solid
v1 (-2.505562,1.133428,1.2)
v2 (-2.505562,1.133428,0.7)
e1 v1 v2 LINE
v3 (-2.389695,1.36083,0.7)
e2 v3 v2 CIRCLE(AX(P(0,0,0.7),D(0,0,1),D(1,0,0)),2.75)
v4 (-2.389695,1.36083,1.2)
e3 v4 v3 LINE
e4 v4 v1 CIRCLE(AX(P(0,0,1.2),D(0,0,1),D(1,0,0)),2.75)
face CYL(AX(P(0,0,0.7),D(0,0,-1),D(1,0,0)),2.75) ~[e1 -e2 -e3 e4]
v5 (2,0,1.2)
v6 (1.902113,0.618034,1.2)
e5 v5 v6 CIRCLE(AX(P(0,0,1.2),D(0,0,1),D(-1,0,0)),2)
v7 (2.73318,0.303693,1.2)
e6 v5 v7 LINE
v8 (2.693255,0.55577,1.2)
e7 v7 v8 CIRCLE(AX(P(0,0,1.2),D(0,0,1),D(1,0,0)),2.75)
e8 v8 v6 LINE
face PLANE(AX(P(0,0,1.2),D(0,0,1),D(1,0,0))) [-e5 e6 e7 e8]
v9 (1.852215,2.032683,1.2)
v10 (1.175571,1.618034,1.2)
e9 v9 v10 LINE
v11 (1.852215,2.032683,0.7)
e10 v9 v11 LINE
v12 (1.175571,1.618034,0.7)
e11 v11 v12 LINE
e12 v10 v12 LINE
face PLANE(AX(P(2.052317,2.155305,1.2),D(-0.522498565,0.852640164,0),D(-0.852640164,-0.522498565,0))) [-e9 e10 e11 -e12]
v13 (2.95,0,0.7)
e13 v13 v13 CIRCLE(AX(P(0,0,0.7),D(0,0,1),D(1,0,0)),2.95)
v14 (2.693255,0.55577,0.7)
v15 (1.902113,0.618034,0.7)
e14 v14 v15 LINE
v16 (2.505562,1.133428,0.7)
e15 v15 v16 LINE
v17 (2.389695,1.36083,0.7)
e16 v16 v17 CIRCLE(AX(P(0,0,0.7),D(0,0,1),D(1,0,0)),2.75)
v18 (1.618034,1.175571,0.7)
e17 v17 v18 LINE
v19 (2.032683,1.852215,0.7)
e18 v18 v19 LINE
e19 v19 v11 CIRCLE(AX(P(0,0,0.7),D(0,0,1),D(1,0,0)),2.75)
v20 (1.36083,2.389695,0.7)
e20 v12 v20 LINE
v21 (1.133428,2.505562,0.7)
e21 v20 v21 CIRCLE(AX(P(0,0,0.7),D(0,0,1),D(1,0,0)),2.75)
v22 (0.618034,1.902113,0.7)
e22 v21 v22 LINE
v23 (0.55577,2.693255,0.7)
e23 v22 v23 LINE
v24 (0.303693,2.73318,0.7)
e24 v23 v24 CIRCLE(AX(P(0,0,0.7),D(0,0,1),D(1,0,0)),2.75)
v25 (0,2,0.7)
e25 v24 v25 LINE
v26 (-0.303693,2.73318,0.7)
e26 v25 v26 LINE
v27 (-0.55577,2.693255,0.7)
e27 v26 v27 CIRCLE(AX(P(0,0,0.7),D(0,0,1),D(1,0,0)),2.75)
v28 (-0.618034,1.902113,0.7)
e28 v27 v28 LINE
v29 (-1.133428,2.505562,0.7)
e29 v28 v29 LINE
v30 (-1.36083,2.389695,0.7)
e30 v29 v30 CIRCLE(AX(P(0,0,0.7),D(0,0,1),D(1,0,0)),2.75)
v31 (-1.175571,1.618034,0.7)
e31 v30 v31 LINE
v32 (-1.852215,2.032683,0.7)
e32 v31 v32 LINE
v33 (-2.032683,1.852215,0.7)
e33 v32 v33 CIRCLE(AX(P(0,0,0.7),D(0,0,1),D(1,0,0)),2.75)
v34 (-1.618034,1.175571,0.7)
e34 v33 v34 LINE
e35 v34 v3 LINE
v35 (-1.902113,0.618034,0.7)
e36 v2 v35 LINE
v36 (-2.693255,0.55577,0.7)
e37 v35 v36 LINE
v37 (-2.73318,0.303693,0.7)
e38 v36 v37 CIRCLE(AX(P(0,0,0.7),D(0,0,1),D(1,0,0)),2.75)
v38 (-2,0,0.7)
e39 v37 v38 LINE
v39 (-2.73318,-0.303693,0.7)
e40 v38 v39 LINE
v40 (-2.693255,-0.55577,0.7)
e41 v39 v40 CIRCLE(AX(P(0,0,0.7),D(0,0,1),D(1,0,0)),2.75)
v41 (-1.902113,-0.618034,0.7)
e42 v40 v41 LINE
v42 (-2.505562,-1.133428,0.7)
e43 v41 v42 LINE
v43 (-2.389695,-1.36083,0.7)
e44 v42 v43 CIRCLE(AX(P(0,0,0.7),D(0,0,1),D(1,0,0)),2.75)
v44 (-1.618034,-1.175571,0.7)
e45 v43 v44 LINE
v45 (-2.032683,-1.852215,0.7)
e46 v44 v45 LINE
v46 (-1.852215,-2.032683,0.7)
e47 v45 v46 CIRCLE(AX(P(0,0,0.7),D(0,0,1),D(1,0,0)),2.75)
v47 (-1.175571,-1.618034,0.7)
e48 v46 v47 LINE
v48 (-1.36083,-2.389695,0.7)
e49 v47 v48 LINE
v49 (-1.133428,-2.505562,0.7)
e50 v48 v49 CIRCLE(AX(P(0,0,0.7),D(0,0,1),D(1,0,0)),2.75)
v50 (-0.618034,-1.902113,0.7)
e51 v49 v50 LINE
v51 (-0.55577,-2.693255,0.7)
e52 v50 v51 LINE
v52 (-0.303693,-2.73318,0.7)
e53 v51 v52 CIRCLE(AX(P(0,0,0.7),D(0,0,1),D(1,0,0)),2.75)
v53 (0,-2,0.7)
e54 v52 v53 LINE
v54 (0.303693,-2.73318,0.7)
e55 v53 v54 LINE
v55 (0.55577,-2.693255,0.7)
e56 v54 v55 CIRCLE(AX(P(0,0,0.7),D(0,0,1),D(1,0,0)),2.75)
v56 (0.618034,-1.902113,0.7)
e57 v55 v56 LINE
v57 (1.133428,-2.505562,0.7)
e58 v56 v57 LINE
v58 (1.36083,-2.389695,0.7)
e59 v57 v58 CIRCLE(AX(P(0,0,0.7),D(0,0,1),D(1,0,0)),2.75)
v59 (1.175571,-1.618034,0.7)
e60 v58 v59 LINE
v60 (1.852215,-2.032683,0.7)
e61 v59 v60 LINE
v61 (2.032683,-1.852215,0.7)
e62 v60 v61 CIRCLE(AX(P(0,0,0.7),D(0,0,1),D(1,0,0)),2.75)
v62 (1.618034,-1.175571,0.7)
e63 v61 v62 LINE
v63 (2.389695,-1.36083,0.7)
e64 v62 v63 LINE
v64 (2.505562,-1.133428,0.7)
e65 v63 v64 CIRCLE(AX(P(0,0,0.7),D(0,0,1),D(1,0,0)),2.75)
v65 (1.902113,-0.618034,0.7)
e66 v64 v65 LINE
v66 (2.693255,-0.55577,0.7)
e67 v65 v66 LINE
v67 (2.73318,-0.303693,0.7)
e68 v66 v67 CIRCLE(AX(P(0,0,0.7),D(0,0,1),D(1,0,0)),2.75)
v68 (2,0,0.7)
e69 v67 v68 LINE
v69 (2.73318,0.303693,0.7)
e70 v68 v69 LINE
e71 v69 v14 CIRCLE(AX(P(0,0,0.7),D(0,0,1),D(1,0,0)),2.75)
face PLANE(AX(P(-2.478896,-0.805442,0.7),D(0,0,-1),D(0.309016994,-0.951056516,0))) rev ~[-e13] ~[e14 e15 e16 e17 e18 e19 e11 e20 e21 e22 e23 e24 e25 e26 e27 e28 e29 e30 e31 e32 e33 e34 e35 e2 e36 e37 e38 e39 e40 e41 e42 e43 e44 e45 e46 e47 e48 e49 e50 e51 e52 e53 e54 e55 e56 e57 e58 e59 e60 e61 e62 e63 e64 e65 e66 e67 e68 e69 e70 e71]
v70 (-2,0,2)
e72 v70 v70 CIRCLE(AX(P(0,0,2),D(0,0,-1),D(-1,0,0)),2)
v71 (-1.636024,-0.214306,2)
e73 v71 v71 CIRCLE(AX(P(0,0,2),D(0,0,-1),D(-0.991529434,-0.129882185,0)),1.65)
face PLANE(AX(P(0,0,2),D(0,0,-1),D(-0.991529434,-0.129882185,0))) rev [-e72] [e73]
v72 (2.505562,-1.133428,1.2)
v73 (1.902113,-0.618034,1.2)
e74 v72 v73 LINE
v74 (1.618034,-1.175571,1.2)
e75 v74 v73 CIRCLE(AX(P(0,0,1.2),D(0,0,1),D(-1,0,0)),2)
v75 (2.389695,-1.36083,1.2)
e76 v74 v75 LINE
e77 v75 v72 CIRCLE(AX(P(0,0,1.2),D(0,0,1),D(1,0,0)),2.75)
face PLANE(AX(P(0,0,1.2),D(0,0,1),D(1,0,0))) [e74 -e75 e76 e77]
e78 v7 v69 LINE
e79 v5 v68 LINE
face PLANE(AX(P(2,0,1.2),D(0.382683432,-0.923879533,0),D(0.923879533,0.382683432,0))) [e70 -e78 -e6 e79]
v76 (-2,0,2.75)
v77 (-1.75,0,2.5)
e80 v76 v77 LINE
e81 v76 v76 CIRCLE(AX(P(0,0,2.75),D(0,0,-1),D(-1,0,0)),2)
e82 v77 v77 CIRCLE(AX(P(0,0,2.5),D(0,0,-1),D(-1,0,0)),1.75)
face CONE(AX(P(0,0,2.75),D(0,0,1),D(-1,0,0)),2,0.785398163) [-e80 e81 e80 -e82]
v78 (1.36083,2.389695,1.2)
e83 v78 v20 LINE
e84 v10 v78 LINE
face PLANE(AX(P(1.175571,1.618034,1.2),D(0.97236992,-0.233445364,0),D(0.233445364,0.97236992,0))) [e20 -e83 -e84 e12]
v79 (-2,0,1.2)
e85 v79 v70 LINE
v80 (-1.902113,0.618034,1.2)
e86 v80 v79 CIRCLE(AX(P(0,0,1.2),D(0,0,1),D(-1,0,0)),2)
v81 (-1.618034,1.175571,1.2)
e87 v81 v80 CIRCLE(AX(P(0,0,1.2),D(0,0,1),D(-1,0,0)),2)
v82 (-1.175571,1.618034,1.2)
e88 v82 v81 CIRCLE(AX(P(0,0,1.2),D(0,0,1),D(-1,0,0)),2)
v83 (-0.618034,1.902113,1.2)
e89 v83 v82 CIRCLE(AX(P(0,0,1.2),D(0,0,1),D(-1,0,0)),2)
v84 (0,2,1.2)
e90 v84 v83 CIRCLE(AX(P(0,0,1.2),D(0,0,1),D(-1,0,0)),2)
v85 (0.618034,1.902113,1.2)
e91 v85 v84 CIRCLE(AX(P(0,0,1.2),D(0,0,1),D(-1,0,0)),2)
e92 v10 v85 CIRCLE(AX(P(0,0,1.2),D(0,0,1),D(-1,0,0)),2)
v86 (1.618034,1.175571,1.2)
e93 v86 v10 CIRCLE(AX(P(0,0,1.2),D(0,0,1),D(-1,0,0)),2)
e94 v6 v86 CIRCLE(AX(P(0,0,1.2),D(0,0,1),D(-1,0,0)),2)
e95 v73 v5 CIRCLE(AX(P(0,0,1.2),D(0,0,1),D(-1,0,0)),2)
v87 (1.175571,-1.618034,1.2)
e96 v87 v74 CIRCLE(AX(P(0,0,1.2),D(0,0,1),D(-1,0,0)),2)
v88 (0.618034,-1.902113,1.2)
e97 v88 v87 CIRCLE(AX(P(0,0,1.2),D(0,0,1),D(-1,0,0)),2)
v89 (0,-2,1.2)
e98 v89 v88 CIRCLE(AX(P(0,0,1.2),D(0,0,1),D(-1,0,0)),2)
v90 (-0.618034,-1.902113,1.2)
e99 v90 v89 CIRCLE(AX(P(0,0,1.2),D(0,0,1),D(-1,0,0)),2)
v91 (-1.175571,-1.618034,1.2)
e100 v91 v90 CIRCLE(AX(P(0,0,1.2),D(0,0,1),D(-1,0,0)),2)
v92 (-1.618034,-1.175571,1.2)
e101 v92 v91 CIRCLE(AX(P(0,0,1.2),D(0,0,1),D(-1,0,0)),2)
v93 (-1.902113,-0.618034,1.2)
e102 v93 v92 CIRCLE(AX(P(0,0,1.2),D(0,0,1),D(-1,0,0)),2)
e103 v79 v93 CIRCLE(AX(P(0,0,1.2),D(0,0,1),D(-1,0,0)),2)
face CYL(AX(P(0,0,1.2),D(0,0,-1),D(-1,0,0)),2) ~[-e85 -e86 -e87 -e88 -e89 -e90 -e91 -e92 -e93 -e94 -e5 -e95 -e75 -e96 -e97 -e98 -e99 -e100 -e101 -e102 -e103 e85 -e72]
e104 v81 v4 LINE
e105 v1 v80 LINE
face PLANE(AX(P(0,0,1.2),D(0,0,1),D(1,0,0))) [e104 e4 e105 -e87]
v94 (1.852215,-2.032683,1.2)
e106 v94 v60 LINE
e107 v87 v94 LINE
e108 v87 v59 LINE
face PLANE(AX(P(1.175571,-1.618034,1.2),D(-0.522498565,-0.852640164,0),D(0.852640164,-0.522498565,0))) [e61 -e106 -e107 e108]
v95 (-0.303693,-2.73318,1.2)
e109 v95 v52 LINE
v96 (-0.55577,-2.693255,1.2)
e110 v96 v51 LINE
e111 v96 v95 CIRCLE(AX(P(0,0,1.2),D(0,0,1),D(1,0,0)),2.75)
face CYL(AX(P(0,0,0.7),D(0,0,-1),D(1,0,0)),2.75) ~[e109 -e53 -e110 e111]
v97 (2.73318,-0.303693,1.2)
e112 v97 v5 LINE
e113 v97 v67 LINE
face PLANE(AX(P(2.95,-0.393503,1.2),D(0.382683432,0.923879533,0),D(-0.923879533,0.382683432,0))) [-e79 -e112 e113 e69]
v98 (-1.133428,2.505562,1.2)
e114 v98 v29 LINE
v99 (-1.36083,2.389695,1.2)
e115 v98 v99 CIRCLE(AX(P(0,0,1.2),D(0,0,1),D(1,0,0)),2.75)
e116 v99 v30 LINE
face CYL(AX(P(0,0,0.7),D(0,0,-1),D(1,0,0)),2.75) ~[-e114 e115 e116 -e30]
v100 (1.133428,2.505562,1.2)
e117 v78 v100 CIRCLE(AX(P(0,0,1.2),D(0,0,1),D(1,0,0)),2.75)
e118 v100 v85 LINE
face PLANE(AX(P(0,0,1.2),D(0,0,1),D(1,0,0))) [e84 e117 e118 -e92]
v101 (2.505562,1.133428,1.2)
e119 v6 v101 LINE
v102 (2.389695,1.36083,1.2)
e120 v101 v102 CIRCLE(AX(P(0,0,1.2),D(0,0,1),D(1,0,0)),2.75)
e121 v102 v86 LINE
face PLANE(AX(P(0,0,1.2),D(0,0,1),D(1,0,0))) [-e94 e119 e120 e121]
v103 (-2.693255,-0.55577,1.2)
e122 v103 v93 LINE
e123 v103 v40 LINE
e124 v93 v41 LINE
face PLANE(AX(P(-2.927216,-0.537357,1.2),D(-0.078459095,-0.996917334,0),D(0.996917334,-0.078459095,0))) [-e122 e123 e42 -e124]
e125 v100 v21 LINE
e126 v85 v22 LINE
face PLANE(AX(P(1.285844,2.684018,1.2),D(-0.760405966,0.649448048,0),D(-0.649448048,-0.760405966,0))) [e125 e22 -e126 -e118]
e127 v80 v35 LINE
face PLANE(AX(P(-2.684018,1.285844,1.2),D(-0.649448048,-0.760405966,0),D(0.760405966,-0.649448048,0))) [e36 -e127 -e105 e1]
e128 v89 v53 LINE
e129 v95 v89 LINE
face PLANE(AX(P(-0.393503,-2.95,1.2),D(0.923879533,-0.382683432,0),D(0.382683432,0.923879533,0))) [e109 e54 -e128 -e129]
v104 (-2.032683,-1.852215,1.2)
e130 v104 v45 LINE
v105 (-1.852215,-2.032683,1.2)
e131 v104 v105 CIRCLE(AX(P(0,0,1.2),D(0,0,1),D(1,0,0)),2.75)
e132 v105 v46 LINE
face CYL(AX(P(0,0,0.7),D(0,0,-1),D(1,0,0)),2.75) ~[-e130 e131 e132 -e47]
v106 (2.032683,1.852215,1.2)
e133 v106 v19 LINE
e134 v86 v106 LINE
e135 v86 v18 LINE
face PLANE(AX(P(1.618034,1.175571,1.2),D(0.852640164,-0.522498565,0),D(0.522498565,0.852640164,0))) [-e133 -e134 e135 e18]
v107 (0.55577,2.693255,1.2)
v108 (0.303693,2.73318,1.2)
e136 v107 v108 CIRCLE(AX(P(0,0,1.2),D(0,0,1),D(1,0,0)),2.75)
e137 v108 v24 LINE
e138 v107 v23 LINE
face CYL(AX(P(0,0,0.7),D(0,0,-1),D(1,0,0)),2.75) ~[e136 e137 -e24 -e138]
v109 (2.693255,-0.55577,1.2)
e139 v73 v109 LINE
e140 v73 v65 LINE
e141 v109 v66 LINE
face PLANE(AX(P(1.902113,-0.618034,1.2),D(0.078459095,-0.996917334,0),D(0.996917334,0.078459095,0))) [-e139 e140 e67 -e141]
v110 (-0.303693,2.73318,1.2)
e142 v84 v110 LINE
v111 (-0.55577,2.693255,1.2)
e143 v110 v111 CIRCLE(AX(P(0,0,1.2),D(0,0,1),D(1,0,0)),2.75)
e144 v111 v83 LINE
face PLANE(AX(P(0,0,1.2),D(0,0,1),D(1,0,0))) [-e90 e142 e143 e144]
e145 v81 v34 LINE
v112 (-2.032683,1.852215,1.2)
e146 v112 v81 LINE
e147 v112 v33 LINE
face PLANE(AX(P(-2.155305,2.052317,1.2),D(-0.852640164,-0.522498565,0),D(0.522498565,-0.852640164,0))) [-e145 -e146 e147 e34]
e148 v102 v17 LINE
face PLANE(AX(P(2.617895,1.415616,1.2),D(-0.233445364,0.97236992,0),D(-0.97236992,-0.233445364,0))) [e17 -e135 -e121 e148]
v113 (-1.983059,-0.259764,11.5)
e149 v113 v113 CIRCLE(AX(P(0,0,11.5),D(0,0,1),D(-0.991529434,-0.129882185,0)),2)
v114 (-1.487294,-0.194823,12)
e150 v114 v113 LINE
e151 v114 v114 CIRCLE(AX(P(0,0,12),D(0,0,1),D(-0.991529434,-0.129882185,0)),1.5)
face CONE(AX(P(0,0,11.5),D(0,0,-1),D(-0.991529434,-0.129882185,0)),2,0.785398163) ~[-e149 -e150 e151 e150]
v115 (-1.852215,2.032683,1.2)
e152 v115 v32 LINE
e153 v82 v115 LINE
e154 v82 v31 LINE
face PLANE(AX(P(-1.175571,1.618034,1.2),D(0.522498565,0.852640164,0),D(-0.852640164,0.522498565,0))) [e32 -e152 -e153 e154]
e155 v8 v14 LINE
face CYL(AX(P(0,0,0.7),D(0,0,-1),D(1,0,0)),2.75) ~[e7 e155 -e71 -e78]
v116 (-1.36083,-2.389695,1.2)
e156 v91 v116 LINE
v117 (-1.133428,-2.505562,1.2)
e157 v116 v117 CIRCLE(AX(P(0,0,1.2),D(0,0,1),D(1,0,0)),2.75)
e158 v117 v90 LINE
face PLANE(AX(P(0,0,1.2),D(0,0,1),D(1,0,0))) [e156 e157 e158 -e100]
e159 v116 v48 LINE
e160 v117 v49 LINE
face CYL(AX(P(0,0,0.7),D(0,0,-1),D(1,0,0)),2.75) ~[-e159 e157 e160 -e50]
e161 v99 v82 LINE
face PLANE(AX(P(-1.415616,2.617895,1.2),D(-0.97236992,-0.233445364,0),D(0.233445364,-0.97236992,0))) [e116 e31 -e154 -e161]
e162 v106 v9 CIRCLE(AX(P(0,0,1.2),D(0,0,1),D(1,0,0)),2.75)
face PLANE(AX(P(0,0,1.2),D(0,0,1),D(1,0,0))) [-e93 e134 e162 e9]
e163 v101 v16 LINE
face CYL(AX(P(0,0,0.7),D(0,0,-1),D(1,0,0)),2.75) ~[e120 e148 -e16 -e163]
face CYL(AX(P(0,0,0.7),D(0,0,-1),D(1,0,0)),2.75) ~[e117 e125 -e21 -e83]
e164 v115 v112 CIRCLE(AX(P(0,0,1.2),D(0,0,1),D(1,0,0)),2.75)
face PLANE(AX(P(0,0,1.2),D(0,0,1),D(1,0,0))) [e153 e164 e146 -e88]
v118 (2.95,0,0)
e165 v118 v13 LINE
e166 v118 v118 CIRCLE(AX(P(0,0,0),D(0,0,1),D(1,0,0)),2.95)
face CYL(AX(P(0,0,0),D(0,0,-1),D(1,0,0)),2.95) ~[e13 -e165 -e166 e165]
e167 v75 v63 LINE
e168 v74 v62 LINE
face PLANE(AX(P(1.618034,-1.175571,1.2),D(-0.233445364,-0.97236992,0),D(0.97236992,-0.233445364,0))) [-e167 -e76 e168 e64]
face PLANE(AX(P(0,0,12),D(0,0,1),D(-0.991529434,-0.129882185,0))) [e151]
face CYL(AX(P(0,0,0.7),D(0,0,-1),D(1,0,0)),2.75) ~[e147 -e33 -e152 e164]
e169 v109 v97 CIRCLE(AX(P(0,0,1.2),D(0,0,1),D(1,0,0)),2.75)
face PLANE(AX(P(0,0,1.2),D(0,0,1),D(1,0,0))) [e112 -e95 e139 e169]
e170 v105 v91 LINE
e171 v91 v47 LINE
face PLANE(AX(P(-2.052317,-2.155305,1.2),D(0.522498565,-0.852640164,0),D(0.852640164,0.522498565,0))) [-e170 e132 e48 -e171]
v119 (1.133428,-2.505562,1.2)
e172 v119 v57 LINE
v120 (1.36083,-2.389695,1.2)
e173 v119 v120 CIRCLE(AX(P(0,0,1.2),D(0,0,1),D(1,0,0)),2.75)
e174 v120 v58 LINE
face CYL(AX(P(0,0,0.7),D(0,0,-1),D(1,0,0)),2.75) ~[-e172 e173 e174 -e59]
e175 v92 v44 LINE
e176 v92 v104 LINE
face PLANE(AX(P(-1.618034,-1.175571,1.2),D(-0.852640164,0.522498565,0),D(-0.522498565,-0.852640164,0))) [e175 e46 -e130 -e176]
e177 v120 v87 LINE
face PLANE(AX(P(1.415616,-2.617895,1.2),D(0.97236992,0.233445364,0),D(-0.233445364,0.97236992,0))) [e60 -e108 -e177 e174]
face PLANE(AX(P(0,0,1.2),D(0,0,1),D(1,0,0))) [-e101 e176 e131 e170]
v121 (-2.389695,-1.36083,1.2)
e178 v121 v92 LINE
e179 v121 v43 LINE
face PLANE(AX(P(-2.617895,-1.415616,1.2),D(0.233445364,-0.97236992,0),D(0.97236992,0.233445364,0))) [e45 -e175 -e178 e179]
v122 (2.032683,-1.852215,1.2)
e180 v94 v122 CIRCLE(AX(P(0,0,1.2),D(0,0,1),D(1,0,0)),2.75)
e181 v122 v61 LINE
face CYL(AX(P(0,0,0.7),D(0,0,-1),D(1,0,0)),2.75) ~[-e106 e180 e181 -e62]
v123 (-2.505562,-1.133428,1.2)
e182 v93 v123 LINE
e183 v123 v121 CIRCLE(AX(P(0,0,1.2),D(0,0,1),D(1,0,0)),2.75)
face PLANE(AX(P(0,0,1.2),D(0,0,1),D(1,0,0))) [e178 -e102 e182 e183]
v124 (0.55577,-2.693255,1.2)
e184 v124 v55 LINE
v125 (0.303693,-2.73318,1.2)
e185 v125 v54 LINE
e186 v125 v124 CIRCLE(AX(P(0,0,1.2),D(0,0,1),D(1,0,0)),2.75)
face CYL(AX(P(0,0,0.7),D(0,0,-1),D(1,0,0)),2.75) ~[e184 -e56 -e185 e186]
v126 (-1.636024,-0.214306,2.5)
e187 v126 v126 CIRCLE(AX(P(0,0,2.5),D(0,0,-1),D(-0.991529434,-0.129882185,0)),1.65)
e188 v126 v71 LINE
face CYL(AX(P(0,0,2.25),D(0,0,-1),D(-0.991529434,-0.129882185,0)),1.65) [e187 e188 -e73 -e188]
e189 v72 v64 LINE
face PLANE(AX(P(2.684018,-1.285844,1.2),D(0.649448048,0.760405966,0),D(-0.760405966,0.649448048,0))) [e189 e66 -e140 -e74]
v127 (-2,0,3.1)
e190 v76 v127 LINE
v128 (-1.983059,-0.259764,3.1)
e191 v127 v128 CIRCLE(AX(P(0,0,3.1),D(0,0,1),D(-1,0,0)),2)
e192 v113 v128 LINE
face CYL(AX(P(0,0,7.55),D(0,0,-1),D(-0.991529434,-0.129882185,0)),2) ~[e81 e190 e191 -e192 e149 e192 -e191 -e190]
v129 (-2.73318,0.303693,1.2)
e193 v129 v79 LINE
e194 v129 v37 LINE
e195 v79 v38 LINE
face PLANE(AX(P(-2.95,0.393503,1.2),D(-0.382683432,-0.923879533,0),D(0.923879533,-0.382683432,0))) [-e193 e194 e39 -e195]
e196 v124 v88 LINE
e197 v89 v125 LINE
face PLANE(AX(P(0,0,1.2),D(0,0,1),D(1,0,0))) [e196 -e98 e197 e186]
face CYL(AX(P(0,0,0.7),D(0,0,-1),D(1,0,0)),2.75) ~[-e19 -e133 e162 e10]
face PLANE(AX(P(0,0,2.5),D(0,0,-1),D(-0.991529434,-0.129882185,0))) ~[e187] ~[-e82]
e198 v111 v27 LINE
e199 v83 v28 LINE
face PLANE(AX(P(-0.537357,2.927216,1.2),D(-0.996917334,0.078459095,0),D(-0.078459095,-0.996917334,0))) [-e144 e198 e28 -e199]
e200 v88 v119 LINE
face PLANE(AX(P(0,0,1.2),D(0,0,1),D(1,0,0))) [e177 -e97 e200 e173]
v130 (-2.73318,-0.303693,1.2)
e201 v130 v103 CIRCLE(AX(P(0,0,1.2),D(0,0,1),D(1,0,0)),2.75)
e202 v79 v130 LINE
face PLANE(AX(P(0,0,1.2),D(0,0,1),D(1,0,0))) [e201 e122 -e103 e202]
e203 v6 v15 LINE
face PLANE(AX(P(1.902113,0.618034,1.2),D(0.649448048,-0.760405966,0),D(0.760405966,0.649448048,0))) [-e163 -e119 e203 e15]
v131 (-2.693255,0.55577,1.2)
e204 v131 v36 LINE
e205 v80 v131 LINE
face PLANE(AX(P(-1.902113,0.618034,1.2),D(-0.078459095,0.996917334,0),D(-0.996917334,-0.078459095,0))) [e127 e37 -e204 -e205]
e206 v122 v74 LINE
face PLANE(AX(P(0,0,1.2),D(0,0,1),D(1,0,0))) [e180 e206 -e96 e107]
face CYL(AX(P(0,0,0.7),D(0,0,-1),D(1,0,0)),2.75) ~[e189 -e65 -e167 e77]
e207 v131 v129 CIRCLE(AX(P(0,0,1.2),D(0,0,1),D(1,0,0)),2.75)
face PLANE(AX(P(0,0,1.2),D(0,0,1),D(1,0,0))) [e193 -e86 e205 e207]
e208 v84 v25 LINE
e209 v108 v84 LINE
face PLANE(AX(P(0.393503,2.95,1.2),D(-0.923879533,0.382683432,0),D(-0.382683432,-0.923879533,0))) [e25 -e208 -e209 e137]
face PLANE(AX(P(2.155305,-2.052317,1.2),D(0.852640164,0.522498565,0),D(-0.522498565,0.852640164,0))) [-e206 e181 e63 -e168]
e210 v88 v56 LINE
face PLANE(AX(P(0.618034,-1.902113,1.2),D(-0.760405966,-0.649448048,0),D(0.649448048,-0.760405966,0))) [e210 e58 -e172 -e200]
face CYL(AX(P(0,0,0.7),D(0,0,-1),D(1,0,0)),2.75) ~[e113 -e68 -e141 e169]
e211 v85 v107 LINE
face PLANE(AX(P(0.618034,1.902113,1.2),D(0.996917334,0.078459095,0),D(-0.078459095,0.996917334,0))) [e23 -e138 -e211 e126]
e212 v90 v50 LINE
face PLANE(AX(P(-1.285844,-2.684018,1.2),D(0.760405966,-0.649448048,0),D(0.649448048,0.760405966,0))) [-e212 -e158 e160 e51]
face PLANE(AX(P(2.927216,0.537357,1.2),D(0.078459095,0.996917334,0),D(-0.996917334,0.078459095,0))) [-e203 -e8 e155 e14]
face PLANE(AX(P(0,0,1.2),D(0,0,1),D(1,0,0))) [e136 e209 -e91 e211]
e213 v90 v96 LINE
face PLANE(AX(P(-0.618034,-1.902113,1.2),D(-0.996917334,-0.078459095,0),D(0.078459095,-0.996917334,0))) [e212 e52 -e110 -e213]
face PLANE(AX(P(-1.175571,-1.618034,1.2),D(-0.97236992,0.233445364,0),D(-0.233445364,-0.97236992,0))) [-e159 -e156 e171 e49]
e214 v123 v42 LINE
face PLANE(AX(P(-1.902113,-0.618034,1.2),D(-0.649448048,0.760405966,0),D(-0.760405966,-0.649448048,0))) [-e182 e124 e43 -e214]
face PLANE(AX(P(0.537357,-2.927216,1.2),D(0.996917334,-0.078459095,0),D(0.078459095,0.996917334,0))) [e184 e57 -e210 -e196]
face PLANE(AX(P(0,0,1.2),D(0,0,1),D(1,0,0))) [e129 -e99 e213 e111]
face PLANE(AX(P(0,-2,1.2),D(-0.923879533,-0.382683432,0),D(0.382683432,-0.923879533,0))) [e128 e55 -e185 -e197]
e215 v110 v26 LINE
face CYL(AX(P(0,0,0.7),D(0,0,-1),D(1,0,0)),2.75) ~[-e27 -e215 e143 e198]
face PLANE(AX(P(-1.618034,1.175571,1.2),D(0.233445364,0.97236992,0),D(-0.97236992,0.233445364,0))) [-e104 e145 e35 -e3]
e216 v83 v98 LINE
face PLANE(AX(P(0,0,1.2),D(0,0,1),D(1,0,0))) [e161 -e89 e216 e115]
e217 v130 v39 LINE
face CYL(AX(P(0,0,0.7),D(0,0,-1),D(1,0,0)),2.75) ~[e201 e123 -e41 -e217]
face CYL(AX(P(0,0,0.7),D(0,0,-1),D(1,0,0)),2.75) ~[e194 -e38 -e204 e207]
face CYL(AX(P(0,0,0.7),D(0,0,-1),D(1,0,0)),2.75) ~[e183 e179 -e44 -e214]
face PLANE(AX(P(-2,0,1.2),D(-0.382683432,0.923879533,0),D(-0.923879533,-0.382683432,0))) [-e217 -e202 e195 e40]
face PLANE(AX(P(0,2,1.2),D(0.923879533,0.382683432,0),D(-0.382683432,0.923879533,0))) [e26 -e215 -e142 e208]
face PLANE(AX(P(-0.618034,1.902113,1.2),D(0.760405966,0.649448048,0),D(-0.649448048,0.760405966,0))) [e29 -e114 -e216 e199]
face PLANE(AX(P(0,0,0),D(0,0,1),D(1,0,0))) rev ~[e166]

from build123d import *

# Parameters (mm, degrees)
SKETCH_1_R               = 2.95
EXTRUDE_1_DEPTH          = 1.2
SKETCH_2_R               = 2
EXTRUDE_2_DEPTH          = 1.9
CUT_EXTRUDE_1_DEPTH      = 0.5
PATTERN_CIRCULAR_1_COUNT = 20
SKETCH_4_W               = 0.35
SKETCH_4_H               = 0.5
SKETCH_6_W               = 8.9
SKETCH_6_H               = 2
CHAMFER_2_SIZE           = 0.5
CUT_EXTRUDE_START        = -0.5
SKETCH_7_R               = 2.95
SKETCH_7_R_2             = 2.75
CUT_EXTRUDE_2_DEPTH      = 0.5
CHAMFER_3_SIZE           = 0.25


with BuildPart() as part:
    # Эскиз1 → Вытянуть1 (new body)
    with BuildSketch(Plane.XY):
        Circle(SKETCH_1_R)
    extrude(amount=EXTRUDE_1_DEPTH)

    # Эскиз2 → Вытянуть2 (add)
    with BuildSketch(Plane.XY.offset(1.2)):
        with Locations(Location((0, 0, 0), (0, 0, 180))):
            Circle(SKETCH_2_R)
    extrude(amount=EXTRUDE_2_DEPTH)

    # Эскиз3 → Вырез-Вытянуть1 (cut)
    with BuildSketch(Plane.XY.offset(1.2)):
        Polygon((-0.393502884, 2.95), (0.393502884, 2.95), (0, 2), align=None)
    cut_extrude_1 = extrude(amount=-CUT_EXTRUDE_1_DEPTH, mode=Mode.SUBTRACT)

    # Круговой массив1: Вырез-Вытянуть1 ×20 about axis
    pattern_circular_1_axis = Axis((0, 0, 0), (0, 0, 1))
    for i in range(1, PATTERN_CIRCULAR_1_COUNT):
        add(cut_extrude_1.rotate(pattern_circular_1_axis, i * 360 / PATTERN_CIRCULAR_1_COUNT), mode=Mode.SUBTRACT)

    # Эскиз4 → Вырез-Повернуть1 (revolve, cut)
    with BuildSketch(Plane(origin=(0, 0, 0), x_dir=(1, 0, 0), z_dir=(0, 1, 0)), mode=Mode.PRIVATE) as cut_revolve_1_sk:
        with Locations((1.825, -2.25)):
            Rectangle(SKETCH_4_W, SKETCH_4_H)
    revolve(cut_revolve_1_sk.sketch.rotate(Axis((0, 0, 14.805168786), (0, 0, -1)), 172.537215717), axis=Axis((0, 0, 14.805168786), (0, 0, -1)), mode=Mode.SUBTRACT)

    # Эскиз6 → Повернуть1 (revolve)
    with BuildSketch(Plane(origin=(0, 0, 0), x_dir=(0, 0, -1), z_dir=(1, 0, 0)), mode=Mode.PRIVATE) as revolve_1_sk:
        with Locations((-7.55, -1)):
            Rectangle(SKETCH_6_W, SKETCH_6_H)
    revolve(revolve_1_sk.sketch.rotate(Axis((0, 0, 3.1), (0, 0, 1)), 277.462784283), axis=Axis((0, 0, 3.1), (0, 0, 1)))

    # Фаска2
    chamfer_2_edges = [part.edges().sort_by_distance(p)[0] for p in [
        (1.983058868, 0.25976437, 12),
    ]]
    chamfer(chamfer_2_edges, length=CHAMFER_2_SIZE)

    # Эскиз7 → Вырез-Вытянуть2 (cut)
    with BuildSketch(Plane.XY.offset(1.2).offset(CUT_EXTRUDE_START)):
        with Locations(Location((0, 0, 0), (0, 0, 180))):
            Circle(SKETCH_7_R)
        Circle(SKETCH_7_R_2, mode=Mode.SUBTRACT)
    extrude(amount=CUT_EXTRUDE_2_DEPTH, mode=Mode.SUBTRACT)

    # Фаска3
    chamfer_3_edges = [part.edges().sort_by_distance(p)[0] for p in [
        (2, 0, 2.5),
    ]]
    chamfer(chamfer_3_edges, length=CHAMFER_3_SIZE)


solid = part.part
